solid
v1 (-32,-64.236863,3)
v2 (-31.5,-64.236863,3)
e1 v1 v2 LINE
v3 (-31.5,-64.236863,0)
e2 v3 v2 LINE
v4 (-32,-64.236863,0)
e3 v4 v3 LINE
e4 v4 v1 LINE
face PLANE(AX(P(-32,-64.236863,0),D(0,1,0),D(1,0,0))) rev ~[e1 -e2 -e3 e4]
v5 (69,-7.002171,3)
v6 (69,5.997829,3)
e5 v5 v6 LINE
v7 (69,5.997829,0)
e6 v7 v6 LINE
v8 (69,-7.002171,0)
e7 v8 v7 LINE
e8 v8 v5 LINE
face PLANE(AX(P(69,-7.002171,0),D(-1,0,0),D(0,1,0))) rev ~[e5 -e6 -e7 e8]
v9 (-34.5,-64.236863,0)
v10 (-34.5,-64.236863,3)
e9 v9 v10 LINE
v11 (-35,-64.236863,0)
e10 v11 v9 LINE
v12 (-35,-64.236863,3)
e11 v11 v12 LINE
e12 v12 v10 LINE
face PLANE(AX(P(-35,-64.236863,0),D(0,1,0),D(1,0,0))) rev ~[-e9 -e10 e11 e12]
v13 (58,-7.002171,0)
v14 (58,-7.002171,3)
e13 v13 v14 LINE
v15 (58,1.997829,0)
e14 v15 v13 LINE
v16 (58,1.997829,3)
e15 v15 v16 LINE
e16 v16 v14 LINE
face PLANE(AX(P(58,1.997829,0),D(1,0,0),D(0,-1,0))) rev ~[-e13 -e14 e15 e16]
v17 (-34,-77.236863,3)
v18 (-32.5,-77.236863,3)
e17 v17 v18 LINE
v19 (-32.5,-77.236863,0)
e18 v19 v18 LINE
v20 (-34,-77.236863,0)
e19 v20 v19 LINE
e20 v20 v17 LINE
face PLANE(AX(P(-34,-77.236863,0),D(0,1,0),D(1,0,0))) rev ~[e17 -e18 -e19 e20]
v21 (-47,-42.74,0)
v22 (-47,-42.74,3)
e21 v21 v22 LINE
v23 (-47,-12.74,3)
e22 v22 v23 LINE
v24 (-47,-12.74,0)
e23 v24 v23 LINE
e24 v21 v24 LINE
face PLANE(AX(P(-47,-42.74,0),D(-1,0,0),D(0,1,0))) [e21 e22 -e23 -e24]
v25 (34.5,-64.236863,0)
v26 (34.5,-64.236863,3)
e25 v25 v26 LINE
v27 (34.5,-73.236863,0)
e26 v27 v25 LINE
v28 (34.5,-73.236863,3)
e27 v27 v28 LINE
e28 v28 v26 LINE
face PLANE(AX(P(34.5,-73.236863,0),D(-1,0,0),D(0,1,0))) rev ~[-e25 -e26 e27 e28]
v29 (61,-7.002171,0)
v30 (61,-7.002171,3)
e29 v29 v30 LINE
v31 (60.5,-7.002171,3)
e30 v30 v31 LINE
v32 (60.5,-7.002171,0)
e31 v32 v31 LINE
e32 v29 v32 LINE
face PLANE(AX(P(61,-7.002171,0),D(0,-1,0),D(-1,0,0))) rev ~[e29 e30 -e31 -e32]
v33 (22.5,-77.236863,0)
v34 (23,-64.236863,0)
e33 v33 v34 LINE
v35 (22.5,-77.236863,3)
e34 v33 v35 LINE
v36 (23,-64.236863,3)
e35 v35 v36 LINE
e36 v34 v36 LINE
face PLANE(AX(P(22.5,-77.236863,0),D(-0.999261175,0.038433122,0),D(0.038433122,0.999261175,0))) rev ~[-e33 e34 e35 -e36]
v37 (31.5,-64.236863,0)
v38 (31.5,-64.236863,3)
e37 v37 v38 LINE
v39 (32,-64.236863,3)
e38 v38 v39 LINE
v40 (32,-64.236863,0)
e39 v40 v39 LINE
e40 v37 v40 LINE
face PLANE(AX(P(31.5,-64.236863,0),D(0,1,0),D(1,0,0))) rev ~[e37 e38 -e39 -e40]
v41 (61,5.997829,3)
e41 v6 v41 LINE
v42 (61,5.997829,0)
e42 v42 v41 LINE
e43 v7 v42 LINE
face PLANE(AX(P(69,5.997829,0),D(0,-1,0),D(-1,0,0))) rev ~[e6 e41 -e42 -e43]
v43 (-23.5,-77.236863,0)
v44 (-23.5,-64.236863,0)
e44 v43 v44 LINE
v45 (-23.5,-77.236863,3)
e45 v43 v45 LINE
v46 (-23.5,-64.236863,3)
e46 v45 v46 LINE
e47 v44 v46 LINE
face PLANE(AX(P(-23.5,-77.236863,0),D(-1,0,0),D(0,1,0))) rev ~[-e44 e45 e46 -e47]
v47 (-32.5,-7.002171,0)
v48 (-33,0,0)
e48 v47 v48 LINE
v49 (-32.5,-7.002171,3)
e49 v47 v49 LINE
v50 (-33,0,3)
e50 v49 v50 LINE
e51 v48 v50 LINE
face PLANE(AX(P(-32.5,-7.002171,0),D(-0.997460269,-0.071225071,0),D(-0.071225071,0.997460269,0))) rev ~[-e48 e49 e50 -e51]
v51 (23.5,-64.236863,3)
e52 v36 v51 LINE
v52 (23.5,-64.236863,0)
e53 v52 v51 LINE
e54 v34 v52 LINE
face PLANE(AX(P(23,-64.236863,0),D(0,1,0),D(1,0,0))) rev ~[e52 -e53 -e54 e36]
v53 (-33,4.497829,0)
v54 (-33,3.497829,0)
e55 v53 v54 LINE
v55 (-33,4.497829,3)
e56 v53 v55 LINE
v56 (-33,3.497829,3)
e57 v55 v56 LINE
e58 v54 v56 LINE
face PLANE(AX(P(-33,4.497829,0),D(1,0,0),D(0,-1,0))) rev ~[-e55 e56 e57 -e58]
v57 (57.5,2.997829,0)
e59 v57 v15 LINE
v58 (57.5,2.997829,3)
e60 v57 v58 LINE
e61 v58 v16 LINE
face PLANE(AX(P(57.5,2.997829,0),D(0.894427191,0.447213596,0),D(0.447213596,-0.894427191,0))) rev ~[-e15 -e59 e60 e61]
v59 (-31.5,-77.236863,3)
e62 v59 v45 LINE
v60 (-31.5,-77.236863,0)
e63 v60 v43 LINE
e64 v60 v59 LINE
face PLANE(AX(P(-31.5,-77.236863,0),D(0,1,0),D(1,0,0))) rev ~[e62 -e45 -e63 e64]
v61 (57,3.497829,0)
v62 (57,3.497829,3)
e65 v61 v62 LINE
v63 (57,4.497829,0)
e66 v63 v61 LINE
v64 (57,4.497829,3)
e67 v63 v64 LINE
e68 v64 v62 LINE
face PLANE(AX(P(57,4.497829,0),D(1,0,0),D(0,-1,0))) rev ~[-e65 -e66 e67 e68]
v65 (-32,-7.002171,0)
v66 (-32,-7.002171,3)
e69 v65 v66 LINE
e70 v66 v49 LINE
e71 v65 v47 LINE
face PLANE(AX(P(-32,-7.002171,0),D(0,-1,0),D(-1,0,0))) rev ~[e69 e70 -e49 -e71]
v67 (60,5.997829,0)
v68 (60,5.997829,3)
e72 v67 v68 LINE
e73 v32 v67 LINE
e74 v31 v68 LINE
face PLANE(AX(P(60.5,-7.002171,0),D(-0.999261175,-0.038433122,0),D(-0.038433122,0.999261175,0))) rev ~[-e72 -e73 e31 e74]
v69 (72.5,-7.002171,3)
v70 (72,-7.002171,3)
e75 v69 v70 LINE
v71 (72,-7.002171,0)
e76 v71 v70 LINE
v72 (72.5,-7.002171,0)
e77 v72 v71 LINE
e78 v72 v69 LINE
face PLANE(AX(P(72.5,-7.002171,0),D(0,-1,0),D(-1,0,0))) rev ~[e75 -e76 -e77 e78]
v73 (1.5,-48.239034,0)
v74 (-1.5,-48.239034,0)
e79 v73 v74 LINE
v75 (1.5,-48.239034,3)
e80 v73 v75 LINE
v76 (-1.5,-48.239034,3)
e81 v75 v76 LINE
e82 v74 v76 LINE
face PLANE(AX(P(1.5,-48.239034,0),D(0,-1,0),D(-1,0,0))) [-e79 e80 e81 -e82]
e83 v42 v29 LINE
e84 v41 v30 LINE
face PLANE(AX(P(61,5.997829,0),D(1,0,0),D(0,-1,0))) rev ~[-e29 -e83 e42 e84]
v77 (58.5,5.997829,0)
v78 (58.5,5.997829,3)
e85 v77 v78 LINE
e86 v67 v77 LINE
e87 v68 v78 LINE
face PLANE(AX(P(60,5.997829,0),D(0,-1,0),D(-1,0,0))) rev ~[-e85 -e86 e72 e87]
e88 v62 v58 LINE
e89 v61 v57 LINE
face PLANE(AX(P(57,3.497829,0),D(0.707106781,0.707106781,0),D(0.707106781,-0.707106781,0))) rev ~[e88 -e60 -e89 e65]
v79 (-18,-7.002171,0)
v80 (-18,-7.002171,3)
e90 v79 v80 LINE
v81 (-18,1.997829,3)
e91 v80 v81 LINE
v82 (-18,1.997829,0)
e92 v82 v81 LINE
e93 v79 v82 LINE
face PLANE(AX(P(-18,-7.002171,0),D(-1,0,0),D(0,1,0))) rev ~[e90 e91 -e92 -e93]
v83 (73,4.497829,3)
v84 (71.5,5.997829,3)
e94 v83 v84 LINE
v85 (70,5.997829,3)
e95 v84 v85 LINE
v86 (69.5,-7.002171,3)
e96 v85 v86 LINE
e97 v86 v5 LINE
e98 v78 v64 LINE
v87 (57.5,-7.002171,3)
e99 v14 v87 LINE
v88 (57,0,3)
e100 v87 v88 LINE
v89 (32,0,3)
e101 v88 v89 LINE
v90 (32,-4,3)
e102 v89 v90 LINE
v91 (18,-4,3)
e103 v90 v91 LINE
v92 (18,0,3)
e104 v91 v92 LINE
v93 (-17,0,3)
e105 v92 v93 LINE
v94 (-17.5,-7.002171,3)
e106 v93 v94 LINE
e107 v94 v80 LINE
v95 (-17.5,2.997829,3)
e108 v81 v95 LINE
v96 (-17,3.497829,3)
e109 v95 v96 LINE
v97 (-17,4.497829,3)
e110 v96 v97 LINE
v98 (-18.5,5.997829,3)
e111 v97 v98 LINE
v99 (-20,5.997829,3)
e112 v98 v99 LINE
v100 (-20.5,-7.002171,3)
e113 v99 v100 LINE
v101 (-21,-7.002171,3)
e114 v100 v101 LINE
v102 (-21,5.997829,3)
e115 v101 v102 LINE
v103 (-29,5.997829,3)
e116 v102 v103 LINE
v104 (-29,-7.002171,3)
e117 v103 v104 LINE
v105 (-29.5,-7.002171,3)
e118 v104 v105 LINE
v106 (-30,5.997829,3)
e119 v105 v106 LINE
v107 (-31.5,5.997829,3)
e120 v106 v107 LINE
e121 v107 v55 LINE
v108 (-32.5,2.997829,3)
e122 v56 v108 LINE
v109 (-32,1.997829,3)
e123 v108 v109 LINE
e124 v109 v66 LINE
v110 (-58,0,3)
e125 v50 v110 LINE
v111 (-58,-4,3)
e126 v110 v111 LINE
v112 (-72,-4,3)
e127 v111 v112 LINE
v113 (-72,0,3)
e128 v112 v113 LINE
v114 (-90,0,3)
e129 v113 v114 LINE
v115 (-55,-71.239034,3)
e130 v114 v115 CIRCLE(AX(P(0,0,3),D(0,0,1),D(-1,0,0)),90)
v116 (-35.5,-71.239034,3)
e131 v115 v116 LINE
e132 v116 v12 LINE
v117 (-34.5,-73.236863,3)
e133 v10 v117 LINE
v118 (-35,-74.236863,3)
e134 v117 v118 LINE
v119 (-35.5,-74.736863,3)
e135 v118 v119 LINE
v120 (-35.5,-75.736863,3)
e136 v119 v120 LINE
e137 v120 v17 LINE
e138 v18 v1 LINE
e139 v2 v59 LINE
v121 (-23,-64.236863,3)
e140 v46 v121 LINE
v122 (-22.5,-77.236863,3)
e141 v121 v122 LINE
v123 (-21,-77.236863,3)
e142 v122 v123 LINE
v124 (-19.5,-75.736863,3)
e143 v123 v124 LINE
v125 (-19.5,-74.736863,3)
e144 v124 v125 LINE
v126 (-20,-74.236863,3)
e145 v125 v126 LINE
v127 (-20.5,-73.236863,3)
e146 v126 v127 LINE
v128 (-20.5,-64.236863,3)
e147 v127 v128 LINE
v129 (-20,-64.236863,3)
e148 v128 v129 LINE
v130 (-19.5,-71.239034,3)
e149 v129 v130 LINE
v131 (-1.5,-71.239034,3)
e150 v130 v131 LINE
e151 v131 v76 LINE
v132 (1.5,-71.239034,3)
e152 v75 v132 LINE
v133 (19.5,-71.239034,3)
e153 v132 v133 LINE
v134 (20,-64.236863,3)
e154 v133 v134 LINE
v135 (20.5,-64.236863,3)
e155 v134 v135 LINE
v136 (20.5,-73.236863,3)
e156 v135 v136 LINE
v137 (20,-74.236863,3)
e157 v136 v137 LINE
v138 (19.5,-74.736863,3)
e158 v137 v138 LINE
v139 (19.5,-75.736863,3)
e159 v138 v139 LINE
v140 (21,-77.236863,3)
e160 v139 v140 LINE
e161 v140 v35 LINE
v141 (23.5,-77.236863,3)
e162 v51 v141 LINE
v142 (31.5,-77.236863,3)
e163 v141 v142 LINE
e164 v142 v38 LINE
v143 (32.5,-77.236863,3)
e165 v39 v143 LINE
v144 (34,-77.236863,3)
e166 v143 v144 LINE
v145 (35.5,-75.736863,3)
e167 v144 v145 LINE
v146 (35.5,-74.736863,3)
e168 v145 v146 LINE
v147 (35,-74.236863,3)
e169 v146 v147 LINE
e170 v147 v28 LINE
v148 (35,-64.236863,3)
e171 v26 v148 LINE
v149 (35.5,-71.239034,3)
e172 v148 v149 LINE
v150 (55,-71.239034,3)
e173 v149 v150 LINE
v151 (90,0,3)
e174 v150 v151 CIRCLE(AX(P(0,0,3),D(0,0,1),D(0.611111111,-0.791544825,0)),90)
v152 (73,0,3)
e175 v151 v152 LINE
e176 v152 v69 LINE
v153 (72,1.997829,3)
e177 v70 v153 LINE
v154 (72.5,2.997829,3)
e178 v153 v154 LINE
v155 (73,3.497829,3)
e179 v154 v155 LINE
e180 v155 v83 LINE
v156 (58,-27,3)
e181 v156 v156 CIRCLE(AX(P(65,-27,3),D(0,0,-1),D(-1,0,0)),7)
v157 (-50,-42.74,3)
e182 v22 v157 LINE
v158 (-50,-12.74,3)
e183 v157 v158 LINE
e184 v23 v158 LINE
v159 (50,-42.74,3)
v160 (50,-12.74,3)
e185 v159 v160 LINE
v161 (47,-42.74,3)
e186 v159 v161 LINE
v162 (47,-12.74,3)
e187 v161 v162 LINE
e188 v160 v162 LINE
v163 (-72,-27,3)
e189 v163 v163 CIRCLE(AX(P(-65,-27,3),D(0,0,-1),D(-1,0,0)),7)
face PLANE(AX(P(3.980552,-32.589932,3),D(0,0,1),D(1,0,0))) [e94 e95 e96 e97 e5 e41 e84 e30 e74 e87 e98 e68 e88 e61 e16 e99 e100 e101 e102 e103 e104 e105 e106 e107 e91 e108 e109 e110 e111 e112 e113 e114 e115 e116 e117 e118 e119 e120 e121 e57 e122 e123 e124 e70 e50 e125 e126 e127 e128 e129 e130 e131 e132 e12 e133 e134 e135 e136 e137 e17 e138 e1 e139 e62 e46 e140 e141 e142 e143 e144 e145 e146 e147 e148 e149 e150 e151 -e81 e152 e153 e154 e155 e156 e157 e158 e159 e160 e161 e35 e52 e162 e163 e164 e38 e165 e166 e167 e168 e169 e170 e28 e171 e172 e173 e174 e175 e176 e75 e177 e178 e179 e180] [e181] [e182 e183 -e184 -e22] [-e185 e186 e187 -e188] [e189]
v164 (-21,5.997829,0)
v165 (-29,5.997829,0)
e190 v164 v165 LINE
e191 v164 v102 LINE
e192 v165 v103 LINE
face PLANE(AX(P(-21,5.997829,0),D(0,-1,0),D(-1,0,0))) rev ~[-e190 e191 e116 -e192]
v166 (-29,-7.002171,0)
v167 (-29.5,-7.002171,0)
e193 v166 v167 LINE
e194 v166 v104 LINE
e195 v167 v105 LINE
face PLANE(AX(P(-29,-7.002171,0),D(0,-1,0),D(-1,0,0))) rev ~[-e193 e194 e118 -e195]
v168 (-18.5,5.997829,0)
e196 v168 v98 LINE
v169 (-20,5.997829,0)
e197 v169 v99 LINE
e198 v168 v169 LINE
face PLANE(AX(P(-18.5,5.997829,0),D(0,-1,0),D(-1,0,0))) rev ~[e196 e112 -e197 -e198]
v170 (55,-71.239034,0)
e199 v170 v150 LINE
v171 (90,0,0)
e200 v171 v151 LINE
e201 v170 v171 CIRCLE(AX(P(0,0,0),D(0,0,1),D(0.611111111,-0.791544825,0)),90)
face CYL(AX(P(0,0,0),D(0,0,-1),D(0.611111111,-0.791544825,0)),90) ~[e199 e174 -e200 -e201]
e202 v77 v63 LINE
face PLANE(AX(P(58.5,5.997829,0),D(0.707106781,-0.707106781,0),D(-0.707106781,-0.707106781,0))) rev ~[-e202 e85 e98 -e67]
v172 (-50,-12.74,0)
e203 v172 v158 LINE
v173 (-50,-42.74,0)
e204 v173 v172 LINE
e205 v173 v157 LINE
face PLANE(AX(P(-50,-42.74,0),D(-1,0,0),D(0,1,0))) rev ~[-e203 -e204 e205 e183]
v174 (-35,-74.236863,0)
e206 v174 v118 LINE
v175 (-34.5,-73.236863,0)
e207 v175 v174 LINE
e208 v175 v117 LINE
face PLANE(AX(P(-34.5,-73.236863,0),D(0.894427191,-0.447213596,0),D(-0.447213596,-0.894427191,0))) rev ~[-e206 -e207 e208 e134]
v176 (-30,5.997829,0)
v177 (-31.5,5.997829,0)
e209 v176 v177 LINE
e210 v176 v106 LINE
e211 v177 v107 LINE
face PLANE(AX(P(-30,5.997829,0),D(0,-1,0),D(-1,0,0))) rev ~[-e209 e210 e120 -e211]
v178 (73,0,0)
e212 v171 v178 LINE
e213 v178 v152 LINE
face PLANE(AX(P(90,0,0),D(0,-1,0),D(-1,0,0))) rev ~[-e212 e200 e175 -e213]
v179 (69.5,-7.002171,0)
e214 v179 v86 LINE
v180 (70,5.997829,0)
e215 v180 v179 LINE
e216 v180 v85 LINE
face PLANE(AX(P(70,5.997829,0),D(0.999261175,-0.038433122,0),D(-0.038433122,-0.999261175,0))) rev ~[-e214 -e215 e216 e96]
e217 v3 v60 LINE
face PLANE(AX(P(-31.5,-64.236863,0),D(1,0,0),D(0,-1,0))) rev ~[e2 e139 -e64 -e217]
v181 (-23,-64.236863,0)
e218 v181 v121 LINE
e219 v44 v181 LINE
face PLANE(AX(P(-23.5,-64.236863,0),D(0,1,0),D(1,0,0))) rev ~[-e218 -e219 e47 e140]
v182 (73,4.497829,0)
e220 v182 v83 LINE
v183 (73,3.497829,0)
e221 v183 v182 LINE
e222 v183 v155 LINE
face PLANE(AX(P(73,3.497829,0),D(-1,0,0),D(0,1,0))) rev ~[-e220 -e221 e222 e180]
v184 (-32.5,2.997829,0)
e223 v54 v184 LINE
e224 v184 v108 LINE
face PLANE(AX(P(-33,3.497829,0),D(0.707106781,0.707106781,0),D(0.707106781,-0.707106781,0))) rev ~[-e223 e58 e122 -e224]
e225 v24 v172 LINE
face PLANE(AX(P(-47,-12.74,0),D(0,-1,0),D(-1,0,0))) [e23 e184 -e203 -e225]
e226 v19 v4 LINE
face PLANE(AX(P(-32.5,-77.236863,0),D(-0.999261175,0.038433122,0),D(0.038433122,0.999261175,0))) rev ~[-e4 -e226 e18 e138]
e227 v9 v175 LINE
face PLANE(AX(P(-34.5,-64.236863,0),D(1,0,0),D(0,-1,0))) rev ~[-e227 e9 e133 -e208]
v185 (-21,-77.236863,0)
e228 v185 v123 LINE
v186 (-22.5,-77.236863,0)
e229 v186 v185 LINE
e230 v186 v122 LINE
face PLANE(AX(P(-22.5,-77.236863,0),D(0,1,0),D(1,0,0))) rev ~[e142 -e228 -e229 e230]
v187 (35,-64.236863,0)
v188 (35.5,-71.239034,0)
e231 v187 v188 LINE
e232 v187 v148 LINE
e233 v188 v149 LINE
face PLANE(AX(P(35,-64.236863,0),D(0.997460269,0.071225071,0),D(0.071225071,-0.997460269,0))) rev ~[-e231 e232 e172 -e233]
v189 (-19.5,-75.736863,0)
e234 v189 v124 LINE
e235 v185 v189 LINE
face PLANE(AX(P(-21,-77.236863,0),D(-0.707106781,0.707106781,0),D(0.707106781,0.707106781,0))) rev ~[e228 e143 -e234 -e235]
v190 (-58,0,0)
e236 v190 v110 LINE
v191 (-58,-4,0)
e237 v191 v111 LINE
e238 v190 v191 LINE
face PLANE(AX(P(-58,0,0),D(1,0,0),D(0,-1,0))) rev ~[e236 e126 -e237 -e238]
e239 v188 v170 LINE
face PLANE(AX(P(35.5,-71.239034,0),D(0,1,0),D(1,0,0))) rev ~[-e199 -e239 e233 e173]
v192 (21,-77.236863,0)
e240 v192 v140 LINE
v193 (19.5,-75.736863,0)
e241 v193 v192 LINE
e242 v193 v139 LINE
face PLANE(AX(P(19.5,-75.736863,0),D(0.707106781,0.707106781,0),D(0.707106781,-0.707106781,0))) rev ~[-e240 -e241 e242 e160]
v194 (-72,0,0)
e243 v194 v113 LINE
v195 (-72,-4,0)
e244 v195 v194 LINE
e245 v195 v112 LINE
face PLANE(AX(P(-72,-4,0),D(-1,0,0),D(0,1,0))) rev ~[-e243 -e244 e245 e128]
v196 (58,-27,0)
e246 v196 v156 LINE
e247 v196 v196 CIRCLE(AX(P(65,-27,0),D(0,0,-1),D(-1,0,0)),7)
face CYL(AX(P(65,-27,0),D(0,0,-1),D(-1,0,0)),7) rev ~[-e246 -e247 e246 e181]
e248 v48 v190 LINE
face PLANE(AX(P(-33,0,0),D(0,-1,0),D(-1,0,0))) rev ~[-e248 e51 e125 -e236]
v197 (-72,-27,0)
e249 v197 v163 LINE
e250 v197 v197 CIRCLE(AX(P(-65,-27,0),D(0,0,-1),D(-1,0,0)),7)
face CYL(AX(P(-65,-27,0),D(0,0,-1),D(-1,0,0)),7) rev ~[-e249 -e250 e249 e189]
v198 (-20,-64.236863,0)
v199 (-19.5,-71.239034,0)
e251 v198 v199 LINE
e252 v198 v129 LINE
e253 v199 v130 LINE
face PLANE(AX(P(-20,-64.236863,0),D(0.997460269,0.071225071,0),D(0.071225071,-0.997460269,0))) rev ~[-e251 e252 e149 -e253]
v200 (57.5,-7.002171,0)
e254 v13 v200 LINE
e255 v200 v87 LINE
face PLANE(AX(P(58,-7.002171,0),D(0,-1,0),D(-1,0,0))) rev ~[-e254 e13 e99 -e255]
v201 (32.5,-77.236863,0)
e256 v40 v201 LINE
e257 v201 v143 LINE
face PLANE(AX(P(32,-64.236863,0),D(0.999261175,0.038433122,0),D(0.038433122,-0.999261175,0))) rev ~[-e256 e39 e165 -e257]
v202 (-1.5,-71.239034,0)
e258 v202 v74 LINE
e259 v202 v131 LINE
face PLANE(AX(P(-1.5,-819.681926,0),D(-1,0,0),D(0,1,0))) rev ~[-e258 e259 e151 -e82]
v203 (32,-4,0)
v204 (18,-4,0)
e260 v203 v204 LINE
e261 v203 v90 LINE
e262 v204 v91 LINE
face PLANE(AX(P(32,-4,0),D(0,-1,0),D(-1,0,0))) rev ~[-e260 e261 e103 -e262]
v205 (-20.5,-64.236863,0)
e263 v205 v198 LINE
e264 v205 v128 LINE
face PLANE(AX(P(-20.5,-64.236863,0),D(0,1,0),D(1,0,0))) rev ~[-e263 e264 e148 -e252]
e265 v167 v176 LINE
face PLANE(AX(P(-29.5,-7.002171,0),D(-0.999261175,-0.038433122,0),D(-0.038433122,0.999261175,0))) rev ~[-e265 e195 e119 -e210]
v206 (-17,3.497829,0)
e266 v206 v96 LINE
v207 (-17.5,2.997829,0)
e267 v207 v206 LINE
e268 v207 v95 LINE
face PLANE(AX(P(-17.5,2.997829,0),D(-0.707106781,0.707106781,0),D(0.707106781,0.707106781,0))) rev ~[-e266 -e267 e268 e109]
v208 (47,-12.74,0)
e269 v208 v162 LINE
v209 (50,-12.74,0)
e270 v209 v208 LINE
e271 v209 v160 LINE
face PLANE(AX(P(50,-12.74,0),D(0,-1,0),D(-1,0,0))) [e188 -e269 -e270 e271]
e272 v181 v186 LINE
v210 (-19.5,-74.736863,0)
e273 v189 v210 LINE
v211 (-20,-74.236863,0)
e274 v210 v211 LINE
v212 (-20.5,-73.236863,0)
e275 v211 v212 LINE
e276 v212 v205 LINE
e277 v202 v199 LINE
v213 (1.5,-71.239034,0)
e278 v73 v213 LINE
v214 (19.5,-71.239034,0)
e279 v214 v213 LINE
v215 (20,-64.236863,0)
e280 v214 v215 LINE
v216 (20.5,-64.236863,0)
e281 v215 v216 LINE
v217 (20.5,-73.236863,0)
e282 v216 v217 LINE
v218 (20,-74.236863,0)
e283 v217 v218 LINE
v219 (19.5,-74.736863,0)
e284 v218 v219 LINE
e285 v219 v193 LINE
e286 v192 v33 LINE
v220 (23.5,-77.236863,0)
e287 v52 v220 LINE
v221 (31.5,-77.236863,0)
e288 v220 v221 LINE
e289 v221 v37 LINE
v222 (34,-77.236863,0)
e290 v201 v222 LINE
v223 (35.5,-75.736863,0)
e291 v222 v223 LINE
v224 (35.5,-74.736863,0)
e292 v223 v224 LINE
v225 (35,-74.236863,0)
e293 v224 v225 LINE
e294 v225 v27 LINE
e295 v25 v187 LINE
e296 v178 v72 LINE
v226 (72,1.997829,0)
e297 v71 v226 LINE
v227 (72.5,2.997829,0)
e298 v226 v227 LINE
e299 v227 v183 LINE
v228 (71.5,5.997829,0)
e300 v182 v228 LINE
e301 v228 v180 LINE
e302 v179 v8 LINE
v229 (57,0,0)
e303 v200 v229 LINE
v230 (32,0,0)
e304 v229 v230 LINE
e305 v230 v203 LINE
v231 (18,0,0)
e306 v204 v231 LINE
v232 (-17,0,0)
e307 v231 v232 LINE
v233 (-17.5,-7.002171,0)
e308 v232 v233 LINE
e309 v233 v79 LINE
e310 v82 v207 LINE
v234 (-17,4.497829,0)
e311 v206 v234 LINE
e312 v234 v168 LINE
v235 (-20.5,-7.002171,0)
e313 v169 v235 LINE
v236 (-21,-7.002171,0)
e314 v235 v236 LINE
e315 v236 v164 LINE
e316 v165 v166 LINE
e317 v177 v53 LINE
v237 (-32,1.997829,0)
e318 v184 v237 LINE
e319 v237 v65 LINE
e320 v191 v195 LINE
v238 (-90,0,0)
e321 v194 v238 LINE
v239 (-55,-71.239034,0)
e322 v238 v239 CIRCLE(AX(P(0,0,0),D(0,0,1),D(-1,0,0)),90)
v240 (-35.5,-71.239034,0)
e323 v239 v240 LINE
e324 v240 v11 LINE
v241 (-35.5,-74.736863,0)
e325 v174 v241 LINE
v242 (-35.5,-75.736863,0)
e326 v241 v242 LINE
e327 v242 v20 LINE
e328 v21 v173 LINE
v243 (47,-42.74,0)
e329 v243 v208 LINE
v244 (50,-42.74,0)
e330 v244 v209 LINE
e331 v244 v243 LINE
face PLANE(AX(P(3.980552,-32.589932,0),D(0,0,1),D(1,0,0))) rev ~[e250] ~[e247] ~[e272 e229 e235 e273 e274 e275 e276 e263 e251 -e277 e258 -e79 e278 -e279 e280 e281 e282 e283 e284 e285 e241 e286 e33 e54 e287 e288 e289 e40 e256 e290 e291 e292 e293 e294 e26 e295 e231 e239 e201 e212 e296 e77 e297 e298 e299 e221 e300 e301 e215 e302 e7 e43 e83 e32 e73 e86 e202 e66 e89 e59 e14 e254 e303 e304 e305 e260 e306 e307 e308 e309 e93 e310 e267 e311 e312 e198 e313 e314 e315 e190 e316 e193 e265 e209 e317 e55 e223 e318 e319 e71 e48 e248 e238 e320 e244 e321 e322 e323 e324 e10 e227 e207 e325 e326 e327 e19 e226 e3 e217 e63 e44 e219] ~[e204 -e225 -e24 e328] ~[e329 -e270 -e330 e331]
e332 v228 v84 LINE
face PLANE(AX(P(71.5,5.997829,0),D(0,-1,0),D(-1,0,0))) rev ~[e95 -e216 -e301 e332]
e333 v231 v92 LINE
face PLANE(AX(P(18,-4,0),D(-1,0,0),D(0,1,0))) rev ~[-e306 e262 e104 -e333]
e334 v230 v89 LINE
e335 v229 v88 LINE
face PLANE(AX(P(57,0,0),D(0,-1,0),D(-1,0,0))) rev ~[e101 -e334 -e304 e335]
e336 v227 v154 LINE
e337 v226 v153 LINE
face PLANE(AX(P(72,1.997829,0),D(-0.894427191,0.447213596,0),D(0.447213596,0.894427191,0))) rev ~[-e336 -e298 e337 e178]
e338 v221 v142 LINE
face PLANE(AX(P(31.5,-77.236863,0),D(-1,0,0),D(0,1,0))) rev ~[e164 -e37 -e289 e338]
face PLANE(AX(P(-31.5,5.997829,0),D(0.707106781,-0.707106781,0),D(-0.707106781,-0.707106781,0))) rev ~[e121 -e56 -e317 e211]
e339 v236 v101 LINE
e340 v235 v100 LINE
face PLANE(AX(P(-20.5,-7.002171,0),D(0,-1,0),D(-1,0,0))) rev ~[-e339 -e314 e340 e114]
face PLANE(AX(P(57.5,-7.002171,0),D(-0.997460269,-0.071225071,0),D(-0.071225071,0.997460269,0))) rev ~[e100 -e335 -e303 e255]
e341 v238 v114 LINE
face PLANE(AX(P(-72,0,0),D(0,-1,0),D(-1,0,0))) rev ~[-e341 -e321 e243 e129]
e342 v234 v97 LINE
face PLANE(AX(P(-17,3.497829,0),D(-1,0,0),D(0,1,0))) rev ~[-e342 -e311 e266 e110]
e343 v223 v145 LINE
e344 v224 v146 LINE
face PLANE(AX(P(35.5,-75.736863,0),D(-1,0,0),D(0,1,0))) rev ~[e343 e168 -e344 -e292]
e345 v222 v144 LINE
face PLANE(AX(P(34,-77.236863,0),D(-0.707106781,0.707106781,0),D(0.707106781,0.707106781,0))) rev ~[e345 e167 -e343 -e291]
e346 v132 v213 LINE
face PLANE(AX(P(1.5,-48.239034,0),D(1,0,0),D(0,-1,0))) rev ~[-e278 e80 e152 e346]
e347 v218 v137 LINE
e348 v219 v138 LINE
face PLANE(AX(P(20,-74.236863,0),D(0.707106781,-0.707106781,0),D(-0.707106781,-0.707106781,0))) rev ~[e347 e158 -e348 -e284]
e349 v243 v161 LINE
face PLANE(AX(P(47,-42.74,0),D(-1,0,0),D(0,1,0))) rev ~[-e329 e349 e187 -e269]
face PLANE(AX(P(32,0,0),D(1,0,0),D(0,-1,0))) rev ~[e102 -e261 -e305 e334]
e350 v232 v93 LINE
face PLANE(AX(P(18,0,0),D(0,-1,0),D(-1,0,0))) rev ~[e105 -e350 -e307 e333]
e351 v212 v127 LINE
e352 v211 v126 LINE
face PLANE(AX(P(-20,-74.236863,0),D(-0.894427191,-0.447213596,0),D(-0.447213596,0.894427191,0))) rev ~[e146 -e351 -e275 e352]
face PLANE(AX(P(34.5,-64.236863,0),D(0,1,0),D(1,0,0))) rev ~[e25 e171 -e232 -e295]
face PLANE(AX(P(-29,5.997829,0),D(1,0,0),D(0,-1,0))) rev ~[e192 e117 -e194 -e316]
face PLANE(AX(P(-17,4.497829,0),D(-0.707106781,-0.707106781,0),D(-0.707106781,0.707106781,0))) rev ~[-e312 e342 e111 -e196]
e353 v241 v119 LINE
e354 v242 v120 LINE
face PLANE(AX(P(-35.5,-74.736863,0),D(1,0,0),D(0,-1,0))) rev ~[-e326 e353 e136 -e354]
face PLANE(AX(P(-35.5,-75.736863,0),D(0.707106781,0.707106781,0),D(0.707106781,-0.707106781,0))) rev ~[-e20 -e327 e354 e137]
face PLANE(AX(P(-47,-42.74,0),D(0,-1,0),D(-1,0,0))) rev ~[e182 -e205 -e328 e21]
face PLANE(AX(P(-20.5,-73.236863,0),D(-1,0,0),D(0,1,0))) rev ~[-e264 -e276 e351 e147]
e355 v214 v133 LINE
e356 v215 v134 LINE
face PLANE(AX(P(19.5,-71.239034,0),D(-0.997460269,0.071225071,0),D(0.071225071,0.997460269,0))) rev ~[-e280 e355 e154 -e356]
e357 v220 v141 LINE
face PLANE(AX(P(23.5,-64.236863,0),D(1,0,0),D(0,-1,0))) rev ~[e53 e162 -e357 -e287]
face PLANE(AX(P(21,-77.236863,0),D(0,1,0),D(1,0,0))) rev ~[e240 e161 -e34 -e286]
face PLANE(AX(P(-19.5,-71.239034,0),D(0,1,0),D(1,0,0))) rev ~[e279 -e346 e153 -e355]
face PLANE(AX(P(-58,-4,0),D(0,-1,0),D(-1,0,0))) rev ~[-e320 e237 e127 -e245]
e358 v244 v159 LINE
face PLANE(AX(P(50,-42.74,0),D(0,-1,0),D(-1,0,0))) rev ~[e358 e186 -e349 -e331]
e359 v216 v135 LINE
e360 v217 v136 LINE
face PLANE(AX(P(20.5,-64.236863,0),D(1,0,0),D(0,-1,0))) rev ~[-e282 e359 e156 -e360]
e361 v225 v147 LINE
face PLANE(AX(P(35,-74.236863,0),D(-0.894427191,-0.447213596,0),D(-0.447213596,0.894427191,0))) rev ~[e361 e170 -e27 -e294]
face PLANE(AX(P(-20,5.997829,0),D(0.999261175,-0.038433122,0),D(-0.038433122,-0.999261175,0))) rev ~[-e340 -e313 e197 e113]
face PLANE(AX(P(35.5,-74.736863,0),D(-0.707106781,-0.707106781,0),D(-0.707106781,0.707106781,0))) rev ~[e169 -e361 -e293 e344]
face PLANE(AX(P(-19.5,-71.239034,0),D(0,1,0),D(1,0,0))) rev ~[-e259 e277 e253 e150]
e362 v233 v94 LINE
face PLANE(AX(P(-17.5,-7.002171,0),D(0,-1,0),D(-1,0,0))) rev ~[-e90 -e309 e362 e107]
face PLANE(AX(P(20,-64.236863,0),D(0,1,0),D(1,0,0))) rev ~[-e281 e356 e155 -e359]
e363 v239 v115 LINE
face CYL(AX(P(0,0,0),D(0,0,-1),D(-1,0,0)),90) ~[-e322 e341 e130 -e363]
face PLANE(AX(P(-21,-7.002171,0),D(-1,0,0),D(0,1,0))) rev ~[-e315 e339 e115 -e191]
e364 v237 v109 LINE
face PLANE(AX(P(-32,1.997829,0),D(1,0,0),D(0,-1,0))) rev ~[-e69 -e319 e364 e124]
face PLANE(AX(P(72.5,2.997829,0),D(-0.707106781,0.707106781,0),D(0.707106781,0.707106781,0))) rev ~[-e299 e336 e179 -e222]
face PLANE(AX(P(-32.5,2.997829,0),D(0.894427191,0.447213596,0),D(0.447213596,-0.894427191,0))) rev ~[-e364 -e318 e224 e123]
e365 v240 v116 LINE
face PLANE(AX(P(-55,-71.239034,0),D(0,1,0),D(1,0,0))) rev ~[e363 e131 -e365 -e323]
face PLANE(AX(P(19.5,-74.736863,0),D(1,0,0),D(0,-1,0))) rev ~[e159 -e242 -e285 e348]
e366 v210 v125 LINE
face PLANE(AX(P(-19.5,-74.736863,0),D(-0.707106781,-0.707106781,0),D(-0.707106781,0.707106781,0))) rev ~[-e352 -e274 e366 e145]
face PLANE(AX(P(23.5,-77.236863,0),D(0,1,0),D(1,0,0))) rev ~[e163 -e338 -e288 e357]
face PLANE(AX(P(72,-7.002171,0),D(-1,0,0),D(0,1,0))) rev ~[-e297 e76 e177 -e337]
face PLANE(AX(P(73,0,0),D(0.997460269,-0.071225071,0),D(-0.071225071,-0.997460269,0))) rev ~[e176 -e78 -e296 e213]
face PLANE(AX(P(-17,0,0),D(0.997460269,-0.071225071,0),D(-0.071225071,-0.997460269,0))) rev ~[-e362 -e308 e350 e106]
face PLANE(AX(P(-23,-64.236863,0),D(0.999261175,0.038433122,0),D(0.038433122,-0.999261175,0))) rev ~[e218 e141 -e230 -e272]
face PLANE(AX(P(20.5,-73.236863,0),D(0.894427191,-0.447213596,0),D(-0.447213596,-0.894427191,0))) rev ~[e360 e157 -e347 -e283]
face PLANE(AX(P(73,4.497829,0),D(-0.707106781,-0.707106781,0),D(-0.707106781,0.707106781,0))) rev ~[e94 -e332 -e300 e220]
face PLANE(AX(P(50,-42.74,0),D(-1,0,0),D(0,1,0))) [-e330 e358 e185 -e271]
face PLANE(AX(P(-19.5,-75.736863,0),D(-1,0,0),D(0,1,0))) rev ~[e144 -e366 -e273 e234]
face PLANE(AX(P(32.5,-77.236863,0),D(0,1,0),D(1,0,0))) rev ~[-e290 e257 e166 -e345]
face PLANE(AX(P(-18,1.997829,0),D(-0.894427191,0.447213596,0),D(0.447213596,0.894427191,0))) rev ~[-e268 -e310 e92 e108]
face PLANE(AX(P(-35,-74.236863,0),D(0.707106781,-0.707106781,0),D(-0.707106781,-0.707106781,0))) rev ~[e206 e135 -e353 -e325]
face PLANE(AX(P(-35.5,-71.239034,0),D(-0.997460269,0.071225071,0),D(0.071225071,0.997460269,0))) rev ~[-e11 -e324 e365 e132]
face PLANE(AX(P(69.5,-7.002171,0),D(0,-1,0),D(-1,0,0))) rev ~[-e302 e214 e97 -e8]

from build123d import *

# Parameters (mm, degrees)
BOSS_EXTRUDE1_DEPTH     = 3
SKETCH5_W               = 3
SKETCH5_H               = 30
CUT_EXTRUDE3_DEPTH      = 3
SKETCH7_R               = 7
CUT_EXTRUDE4_DEPTH      = 3
CUT_EXTRUDE6_DEPTH      = 1
CUT_EXTRUDE6_DEPTH_BACK = 3


with BuildPart() as part:
    # Sketch1 → Boss-Extrude1 (new body)
    with BuildSketch(Plane.XY):
        with BuildLine():
            Line((-55, -71.239034244), (-35.5, -71.239034244))
            Line((-35.5, -71.239034244), (-35, -64.236863152))
            Line((-35, -64.236863152), (-34.5, -64.236863152))
            Line((-34.5, -64.236863152), (-34.5, -73.236863152))
            Line((-34.5, -73.236863152), (-35, -74.236863152))
            Line((-35, -74.236863152), (-35.5, -74.736863152))
            Line((-35.5, -74.736863152), (-35.5, -75.736863152))
            Line((-35.5, -75.736863152), (-34, -77.236863152))
            Line((-34, -77.236863152), (-32.5, -77.236863152))
            Line((-32.5, -77.236863152), (-32, -64.236863152))
            Line((-32, -64.236863152), (-31.5, -64.236863152))
            Line((-31.5, -64.236863152), (-31.5, -77.236863152))
            Line((-31.5, -77.236863152), (-23.5, -77.236863152))
            Line((-23.5, -77.236863152), (-23.5, -64.236863152))
            Line((-23.5, -64.236863152), (-23, -64.236863152))
            Line((-23, -64.236863152), (-22.5, -77.236863152))
            Line((-22.5, -77.236863152), (-21, -77.236863152))
            Line((-21, -77.236863152), (-19.5, -75.736863152))
            Line((-19.5, -75.736863152), (-19.5, -74.736863152))
            Line((-19.5, -74.736863152), (-20, -74.236863152))
            Line((-20, -74.236863152), (-20.5, -73.236863152))
            Line((-20.5, -73.236863152), (-20.5, -64.236863152))
            Line((-20.5, -64.236863152), (-20, -64.236863152))
            Line((-20, -64.236863152), (-19.5, -71.239034244))
            Line((-19.5, -71.239034244), (19.5, -71.239034244))
            Line((19.5, -71.239034244), (20, -64.236863152))
            Line((20, -64.236863152), (20.5, -64.236863152))
            Line((20.5, -64.236863152), (20.5, -73.236863152))
            Line((20.5, -73.236863152), (20, -74.236863152))
            Line((20, -74.236863152), (19.5, -74.736863152))
            Line((19.5, -74.736863152), (19.5, -75.736863152))
            Line((19.5, -75.736863152), (21, -77.236863152))
            Line((21, -77.236863152), (22.5, -77.236863152))
            Line((22.5, -77.236863152), (23, -64.236863152))
            Line((23, -64.236863152), (23.5, -64.236863152))
            Line((23.5, -64.236863152), (23.5, -77.236863152))
            Line((23.5, -77.236863152), (31.5, -77.236863152))
            Line((31.5, -77.236863152), (31.5, -64.236863152))
            Line((31.5, -64.236863152), (32, -64.236863152))
            Line((32, -64.236863152), (32.5, -77.236863152))
            Line((32.5, -77.236863152), (34, -77.236863152))
            Line((34, -77.236863152), (35.5, -75.736863152))
            Line((35.5, -75.736863152), (35.5, -74.736863152))
            Line((35.5, -74.736863152), (35, -74.236863152))
            Line((35, -74.236863152), (34.5, -73.236863152))
            Line((34.5, -73.236863152), (34.5, -64.236863152))
            Line((34.5, -64.236863152), (35, -64.236863152))
            Line((35, -64.236863152), (35.5, -71.239034244))
            Line((35.5, -71.239034244), (55, -71.239034244))
            ThreePointArc((55, -71.239034244), (80.777472107, -39.686269666), (90, 0))
            Line((90, 0), (73, 0))
            Line((73, 0), (72.5, -7.002171092))
            Line((72.5, -7.002171092), (72, -7.002171092))
            Line((72, -7.002171092), (72, 1.997828908))
            Line((72, 1.997828908), (72.5, 2.997828908))
            Line((72.5, 2.997828908), (73, 3.497828908))
            Line((73, 3.497828908), (73, 4.497828908))
            Line((73, 4.497828908), (71.5, 5.997828908))
            Line((71.5, 5.997828908), (70, 5.997828908))
            Line((70, 5.997828908), (69.5, -7.002171092))
            Line((69.5, -7.002171092), (69, -7.002171092))
            Line((69, -7.002171092), (69, 5.997828908))
            Line((69, 5.997828908), (61, 5.997828908))
            Line((61, 5.997828908), (61, -7.002171092))
            Line((61, -7.002171092), (60.5, -7.002171092))
            Line((60.5, -7.002171092), (60, 5.997828908))
            Line((60, 5.997828908), (58.5, 5.997828908))
            Line((58.5, 5.997828908), (57, 4.497828908))
            Line((57, 4.497828908), (57, 3.497828908))
            Line((57, 3.497828908), (57.5, 2.997828908))
            Line((57.5, 2.997828908), (58, 1.997828908))
            Line((58, 1.997828908), (58, -7.002171092))
            Line((58, -7.002171092), (57.5, -7.002171092))
            Line((57.5, -7.002171092), (57, 0))
            Line((57, 0), (32, 0))
            Line((32, 0), (32, -4))
            Line((32, -4), (18, -4))
            Line((18, -4), (18, 0))
            Line((18, 0), (-17, 0))
            Line((-17, 0), (-17.5, -7.002171092))
            Line((-17.5, -7.002171092), (-18, -7.002171092))
            Line((-18, -7.002171092), (-18, 1.997828908))
            Line((-18, 1.997828908), (-17.5, 2.997828908))
            Line((-17.5, 2.997828908), (-17, 3.497828908))
            Line((-17, 3.497828908), (-17, 4.497828908))
            Line((-17, 4.497828908), (-18.5, 5.997828908))
            Line((-18.5, 5.997828908), (-20, 5.997828908))
            Line((-20, 5.997828908), (-20.5, -7.002171092))
            Line((-20.5, -7.002171092), (-21, -7.002171092))
            Line((-21, -7.002171092), (-21, 5.997828908))
            Line((-21, 5.997828908), (-29, 5.997828908))
            Line((-29, 5.997828908), (-29, -7.002171092))
            Line((-29, -7.002171092), (-29.5, -7.002171092))
            Line((-29.5, -7.002171092), (-30, 5.997828908))
            Line((-30, 5.997828908), (-31.5, 5.997828908))
            Line((-31.5, 5.997828908), (-33, 4.497828908))
            Line((-33, 4.497828908), (-33, 3.497828908))
            Line((-33, 3.497828908), (-32.5, 2.997828908))
            Line((-32.5, 2.997828908), (-32, 1.997828908))
            Line((-32, 1.997828908), (-32, -7.002171092))
            Line((-32, -7.002171092), (-32.5, -7.002171092))
            Line((-32.5, -7.002171092), (-33, 0))
            Line((-33, 0), (-58, 0))
            Line((-58, 0), (-58, -4))
            Line((-58, -4), (-72, -4))
            Line((-72, -4), (-72, 0))
            Line((-72, 0), (-90, 0))
            ThreePointArc((-90, 0), (-80.777472107, -39.686269666), (-55, -71.239034244))
        make_face()
    extrude(amount=BOSS_EXTRUDE1_DEPTH)

    # Sketch5 → Cut-Extrude3 (cut)
    with BuildSketch(Plane(origin=(0, 0, 0), x_dir=(-1, 0, 0), z_dir=(0, 0, -1))):
        with Locations((-48.5, -27.74)):
            Rectangle(SKETCH5_W, SKETCH5_H)
        with Locations((48.5, -27.74)):
            Rectangle(SKETCH5_W, SKETCH5_H)
    extrude(amount=-CUT_EXTRUDE3_DEPTH, mode=Mode.SUBTRACT)

    # Sketch7 → Cut-Extrude4 (cut)
    with BuildSketch(Plane(origin=(0, 0, 0), x_dir=(-1, 0, 0), z_dir=(0, 0, -1))):
        with Locations((65, -27)):
            Circle(SKETCH7_R)
        with Locations((-65, -27)):
            Circle(SKETCH7_R)
    extrude(amount=-CUT_EXTRUDE4_DEPTH, mode=Mode.SUBTRACT)

    # Sketch8 → Cut-Extrude6 (cut, two sides)
    with BuildSketch(Plane(origin=(0, 0, 0), x_dir=(-1, 0, 0), z_dir=(0, 0, -1))) as cut_extrude6_sk:
        Polygon((-1.5, -320.719998244), (-1.5, -71.239034244), (-1.5, -48.239034244), (1.5, -48.239034244), (1.5, -71.239034244), (1.5, -320.719998244), (1.5, -819.681926243), (-1.5, -819.681926243), align=None)
    extrude(amount=CUT_EXTRUDE6_DEPTH, mode=Mode.SUBTRACT)
    extrude(cut_extrude6_sk.sketch, amount=-CUT_EXTRUDE6_DEPTH_BACK, mode=Mode.SUBTRACT)


solid = part.part
